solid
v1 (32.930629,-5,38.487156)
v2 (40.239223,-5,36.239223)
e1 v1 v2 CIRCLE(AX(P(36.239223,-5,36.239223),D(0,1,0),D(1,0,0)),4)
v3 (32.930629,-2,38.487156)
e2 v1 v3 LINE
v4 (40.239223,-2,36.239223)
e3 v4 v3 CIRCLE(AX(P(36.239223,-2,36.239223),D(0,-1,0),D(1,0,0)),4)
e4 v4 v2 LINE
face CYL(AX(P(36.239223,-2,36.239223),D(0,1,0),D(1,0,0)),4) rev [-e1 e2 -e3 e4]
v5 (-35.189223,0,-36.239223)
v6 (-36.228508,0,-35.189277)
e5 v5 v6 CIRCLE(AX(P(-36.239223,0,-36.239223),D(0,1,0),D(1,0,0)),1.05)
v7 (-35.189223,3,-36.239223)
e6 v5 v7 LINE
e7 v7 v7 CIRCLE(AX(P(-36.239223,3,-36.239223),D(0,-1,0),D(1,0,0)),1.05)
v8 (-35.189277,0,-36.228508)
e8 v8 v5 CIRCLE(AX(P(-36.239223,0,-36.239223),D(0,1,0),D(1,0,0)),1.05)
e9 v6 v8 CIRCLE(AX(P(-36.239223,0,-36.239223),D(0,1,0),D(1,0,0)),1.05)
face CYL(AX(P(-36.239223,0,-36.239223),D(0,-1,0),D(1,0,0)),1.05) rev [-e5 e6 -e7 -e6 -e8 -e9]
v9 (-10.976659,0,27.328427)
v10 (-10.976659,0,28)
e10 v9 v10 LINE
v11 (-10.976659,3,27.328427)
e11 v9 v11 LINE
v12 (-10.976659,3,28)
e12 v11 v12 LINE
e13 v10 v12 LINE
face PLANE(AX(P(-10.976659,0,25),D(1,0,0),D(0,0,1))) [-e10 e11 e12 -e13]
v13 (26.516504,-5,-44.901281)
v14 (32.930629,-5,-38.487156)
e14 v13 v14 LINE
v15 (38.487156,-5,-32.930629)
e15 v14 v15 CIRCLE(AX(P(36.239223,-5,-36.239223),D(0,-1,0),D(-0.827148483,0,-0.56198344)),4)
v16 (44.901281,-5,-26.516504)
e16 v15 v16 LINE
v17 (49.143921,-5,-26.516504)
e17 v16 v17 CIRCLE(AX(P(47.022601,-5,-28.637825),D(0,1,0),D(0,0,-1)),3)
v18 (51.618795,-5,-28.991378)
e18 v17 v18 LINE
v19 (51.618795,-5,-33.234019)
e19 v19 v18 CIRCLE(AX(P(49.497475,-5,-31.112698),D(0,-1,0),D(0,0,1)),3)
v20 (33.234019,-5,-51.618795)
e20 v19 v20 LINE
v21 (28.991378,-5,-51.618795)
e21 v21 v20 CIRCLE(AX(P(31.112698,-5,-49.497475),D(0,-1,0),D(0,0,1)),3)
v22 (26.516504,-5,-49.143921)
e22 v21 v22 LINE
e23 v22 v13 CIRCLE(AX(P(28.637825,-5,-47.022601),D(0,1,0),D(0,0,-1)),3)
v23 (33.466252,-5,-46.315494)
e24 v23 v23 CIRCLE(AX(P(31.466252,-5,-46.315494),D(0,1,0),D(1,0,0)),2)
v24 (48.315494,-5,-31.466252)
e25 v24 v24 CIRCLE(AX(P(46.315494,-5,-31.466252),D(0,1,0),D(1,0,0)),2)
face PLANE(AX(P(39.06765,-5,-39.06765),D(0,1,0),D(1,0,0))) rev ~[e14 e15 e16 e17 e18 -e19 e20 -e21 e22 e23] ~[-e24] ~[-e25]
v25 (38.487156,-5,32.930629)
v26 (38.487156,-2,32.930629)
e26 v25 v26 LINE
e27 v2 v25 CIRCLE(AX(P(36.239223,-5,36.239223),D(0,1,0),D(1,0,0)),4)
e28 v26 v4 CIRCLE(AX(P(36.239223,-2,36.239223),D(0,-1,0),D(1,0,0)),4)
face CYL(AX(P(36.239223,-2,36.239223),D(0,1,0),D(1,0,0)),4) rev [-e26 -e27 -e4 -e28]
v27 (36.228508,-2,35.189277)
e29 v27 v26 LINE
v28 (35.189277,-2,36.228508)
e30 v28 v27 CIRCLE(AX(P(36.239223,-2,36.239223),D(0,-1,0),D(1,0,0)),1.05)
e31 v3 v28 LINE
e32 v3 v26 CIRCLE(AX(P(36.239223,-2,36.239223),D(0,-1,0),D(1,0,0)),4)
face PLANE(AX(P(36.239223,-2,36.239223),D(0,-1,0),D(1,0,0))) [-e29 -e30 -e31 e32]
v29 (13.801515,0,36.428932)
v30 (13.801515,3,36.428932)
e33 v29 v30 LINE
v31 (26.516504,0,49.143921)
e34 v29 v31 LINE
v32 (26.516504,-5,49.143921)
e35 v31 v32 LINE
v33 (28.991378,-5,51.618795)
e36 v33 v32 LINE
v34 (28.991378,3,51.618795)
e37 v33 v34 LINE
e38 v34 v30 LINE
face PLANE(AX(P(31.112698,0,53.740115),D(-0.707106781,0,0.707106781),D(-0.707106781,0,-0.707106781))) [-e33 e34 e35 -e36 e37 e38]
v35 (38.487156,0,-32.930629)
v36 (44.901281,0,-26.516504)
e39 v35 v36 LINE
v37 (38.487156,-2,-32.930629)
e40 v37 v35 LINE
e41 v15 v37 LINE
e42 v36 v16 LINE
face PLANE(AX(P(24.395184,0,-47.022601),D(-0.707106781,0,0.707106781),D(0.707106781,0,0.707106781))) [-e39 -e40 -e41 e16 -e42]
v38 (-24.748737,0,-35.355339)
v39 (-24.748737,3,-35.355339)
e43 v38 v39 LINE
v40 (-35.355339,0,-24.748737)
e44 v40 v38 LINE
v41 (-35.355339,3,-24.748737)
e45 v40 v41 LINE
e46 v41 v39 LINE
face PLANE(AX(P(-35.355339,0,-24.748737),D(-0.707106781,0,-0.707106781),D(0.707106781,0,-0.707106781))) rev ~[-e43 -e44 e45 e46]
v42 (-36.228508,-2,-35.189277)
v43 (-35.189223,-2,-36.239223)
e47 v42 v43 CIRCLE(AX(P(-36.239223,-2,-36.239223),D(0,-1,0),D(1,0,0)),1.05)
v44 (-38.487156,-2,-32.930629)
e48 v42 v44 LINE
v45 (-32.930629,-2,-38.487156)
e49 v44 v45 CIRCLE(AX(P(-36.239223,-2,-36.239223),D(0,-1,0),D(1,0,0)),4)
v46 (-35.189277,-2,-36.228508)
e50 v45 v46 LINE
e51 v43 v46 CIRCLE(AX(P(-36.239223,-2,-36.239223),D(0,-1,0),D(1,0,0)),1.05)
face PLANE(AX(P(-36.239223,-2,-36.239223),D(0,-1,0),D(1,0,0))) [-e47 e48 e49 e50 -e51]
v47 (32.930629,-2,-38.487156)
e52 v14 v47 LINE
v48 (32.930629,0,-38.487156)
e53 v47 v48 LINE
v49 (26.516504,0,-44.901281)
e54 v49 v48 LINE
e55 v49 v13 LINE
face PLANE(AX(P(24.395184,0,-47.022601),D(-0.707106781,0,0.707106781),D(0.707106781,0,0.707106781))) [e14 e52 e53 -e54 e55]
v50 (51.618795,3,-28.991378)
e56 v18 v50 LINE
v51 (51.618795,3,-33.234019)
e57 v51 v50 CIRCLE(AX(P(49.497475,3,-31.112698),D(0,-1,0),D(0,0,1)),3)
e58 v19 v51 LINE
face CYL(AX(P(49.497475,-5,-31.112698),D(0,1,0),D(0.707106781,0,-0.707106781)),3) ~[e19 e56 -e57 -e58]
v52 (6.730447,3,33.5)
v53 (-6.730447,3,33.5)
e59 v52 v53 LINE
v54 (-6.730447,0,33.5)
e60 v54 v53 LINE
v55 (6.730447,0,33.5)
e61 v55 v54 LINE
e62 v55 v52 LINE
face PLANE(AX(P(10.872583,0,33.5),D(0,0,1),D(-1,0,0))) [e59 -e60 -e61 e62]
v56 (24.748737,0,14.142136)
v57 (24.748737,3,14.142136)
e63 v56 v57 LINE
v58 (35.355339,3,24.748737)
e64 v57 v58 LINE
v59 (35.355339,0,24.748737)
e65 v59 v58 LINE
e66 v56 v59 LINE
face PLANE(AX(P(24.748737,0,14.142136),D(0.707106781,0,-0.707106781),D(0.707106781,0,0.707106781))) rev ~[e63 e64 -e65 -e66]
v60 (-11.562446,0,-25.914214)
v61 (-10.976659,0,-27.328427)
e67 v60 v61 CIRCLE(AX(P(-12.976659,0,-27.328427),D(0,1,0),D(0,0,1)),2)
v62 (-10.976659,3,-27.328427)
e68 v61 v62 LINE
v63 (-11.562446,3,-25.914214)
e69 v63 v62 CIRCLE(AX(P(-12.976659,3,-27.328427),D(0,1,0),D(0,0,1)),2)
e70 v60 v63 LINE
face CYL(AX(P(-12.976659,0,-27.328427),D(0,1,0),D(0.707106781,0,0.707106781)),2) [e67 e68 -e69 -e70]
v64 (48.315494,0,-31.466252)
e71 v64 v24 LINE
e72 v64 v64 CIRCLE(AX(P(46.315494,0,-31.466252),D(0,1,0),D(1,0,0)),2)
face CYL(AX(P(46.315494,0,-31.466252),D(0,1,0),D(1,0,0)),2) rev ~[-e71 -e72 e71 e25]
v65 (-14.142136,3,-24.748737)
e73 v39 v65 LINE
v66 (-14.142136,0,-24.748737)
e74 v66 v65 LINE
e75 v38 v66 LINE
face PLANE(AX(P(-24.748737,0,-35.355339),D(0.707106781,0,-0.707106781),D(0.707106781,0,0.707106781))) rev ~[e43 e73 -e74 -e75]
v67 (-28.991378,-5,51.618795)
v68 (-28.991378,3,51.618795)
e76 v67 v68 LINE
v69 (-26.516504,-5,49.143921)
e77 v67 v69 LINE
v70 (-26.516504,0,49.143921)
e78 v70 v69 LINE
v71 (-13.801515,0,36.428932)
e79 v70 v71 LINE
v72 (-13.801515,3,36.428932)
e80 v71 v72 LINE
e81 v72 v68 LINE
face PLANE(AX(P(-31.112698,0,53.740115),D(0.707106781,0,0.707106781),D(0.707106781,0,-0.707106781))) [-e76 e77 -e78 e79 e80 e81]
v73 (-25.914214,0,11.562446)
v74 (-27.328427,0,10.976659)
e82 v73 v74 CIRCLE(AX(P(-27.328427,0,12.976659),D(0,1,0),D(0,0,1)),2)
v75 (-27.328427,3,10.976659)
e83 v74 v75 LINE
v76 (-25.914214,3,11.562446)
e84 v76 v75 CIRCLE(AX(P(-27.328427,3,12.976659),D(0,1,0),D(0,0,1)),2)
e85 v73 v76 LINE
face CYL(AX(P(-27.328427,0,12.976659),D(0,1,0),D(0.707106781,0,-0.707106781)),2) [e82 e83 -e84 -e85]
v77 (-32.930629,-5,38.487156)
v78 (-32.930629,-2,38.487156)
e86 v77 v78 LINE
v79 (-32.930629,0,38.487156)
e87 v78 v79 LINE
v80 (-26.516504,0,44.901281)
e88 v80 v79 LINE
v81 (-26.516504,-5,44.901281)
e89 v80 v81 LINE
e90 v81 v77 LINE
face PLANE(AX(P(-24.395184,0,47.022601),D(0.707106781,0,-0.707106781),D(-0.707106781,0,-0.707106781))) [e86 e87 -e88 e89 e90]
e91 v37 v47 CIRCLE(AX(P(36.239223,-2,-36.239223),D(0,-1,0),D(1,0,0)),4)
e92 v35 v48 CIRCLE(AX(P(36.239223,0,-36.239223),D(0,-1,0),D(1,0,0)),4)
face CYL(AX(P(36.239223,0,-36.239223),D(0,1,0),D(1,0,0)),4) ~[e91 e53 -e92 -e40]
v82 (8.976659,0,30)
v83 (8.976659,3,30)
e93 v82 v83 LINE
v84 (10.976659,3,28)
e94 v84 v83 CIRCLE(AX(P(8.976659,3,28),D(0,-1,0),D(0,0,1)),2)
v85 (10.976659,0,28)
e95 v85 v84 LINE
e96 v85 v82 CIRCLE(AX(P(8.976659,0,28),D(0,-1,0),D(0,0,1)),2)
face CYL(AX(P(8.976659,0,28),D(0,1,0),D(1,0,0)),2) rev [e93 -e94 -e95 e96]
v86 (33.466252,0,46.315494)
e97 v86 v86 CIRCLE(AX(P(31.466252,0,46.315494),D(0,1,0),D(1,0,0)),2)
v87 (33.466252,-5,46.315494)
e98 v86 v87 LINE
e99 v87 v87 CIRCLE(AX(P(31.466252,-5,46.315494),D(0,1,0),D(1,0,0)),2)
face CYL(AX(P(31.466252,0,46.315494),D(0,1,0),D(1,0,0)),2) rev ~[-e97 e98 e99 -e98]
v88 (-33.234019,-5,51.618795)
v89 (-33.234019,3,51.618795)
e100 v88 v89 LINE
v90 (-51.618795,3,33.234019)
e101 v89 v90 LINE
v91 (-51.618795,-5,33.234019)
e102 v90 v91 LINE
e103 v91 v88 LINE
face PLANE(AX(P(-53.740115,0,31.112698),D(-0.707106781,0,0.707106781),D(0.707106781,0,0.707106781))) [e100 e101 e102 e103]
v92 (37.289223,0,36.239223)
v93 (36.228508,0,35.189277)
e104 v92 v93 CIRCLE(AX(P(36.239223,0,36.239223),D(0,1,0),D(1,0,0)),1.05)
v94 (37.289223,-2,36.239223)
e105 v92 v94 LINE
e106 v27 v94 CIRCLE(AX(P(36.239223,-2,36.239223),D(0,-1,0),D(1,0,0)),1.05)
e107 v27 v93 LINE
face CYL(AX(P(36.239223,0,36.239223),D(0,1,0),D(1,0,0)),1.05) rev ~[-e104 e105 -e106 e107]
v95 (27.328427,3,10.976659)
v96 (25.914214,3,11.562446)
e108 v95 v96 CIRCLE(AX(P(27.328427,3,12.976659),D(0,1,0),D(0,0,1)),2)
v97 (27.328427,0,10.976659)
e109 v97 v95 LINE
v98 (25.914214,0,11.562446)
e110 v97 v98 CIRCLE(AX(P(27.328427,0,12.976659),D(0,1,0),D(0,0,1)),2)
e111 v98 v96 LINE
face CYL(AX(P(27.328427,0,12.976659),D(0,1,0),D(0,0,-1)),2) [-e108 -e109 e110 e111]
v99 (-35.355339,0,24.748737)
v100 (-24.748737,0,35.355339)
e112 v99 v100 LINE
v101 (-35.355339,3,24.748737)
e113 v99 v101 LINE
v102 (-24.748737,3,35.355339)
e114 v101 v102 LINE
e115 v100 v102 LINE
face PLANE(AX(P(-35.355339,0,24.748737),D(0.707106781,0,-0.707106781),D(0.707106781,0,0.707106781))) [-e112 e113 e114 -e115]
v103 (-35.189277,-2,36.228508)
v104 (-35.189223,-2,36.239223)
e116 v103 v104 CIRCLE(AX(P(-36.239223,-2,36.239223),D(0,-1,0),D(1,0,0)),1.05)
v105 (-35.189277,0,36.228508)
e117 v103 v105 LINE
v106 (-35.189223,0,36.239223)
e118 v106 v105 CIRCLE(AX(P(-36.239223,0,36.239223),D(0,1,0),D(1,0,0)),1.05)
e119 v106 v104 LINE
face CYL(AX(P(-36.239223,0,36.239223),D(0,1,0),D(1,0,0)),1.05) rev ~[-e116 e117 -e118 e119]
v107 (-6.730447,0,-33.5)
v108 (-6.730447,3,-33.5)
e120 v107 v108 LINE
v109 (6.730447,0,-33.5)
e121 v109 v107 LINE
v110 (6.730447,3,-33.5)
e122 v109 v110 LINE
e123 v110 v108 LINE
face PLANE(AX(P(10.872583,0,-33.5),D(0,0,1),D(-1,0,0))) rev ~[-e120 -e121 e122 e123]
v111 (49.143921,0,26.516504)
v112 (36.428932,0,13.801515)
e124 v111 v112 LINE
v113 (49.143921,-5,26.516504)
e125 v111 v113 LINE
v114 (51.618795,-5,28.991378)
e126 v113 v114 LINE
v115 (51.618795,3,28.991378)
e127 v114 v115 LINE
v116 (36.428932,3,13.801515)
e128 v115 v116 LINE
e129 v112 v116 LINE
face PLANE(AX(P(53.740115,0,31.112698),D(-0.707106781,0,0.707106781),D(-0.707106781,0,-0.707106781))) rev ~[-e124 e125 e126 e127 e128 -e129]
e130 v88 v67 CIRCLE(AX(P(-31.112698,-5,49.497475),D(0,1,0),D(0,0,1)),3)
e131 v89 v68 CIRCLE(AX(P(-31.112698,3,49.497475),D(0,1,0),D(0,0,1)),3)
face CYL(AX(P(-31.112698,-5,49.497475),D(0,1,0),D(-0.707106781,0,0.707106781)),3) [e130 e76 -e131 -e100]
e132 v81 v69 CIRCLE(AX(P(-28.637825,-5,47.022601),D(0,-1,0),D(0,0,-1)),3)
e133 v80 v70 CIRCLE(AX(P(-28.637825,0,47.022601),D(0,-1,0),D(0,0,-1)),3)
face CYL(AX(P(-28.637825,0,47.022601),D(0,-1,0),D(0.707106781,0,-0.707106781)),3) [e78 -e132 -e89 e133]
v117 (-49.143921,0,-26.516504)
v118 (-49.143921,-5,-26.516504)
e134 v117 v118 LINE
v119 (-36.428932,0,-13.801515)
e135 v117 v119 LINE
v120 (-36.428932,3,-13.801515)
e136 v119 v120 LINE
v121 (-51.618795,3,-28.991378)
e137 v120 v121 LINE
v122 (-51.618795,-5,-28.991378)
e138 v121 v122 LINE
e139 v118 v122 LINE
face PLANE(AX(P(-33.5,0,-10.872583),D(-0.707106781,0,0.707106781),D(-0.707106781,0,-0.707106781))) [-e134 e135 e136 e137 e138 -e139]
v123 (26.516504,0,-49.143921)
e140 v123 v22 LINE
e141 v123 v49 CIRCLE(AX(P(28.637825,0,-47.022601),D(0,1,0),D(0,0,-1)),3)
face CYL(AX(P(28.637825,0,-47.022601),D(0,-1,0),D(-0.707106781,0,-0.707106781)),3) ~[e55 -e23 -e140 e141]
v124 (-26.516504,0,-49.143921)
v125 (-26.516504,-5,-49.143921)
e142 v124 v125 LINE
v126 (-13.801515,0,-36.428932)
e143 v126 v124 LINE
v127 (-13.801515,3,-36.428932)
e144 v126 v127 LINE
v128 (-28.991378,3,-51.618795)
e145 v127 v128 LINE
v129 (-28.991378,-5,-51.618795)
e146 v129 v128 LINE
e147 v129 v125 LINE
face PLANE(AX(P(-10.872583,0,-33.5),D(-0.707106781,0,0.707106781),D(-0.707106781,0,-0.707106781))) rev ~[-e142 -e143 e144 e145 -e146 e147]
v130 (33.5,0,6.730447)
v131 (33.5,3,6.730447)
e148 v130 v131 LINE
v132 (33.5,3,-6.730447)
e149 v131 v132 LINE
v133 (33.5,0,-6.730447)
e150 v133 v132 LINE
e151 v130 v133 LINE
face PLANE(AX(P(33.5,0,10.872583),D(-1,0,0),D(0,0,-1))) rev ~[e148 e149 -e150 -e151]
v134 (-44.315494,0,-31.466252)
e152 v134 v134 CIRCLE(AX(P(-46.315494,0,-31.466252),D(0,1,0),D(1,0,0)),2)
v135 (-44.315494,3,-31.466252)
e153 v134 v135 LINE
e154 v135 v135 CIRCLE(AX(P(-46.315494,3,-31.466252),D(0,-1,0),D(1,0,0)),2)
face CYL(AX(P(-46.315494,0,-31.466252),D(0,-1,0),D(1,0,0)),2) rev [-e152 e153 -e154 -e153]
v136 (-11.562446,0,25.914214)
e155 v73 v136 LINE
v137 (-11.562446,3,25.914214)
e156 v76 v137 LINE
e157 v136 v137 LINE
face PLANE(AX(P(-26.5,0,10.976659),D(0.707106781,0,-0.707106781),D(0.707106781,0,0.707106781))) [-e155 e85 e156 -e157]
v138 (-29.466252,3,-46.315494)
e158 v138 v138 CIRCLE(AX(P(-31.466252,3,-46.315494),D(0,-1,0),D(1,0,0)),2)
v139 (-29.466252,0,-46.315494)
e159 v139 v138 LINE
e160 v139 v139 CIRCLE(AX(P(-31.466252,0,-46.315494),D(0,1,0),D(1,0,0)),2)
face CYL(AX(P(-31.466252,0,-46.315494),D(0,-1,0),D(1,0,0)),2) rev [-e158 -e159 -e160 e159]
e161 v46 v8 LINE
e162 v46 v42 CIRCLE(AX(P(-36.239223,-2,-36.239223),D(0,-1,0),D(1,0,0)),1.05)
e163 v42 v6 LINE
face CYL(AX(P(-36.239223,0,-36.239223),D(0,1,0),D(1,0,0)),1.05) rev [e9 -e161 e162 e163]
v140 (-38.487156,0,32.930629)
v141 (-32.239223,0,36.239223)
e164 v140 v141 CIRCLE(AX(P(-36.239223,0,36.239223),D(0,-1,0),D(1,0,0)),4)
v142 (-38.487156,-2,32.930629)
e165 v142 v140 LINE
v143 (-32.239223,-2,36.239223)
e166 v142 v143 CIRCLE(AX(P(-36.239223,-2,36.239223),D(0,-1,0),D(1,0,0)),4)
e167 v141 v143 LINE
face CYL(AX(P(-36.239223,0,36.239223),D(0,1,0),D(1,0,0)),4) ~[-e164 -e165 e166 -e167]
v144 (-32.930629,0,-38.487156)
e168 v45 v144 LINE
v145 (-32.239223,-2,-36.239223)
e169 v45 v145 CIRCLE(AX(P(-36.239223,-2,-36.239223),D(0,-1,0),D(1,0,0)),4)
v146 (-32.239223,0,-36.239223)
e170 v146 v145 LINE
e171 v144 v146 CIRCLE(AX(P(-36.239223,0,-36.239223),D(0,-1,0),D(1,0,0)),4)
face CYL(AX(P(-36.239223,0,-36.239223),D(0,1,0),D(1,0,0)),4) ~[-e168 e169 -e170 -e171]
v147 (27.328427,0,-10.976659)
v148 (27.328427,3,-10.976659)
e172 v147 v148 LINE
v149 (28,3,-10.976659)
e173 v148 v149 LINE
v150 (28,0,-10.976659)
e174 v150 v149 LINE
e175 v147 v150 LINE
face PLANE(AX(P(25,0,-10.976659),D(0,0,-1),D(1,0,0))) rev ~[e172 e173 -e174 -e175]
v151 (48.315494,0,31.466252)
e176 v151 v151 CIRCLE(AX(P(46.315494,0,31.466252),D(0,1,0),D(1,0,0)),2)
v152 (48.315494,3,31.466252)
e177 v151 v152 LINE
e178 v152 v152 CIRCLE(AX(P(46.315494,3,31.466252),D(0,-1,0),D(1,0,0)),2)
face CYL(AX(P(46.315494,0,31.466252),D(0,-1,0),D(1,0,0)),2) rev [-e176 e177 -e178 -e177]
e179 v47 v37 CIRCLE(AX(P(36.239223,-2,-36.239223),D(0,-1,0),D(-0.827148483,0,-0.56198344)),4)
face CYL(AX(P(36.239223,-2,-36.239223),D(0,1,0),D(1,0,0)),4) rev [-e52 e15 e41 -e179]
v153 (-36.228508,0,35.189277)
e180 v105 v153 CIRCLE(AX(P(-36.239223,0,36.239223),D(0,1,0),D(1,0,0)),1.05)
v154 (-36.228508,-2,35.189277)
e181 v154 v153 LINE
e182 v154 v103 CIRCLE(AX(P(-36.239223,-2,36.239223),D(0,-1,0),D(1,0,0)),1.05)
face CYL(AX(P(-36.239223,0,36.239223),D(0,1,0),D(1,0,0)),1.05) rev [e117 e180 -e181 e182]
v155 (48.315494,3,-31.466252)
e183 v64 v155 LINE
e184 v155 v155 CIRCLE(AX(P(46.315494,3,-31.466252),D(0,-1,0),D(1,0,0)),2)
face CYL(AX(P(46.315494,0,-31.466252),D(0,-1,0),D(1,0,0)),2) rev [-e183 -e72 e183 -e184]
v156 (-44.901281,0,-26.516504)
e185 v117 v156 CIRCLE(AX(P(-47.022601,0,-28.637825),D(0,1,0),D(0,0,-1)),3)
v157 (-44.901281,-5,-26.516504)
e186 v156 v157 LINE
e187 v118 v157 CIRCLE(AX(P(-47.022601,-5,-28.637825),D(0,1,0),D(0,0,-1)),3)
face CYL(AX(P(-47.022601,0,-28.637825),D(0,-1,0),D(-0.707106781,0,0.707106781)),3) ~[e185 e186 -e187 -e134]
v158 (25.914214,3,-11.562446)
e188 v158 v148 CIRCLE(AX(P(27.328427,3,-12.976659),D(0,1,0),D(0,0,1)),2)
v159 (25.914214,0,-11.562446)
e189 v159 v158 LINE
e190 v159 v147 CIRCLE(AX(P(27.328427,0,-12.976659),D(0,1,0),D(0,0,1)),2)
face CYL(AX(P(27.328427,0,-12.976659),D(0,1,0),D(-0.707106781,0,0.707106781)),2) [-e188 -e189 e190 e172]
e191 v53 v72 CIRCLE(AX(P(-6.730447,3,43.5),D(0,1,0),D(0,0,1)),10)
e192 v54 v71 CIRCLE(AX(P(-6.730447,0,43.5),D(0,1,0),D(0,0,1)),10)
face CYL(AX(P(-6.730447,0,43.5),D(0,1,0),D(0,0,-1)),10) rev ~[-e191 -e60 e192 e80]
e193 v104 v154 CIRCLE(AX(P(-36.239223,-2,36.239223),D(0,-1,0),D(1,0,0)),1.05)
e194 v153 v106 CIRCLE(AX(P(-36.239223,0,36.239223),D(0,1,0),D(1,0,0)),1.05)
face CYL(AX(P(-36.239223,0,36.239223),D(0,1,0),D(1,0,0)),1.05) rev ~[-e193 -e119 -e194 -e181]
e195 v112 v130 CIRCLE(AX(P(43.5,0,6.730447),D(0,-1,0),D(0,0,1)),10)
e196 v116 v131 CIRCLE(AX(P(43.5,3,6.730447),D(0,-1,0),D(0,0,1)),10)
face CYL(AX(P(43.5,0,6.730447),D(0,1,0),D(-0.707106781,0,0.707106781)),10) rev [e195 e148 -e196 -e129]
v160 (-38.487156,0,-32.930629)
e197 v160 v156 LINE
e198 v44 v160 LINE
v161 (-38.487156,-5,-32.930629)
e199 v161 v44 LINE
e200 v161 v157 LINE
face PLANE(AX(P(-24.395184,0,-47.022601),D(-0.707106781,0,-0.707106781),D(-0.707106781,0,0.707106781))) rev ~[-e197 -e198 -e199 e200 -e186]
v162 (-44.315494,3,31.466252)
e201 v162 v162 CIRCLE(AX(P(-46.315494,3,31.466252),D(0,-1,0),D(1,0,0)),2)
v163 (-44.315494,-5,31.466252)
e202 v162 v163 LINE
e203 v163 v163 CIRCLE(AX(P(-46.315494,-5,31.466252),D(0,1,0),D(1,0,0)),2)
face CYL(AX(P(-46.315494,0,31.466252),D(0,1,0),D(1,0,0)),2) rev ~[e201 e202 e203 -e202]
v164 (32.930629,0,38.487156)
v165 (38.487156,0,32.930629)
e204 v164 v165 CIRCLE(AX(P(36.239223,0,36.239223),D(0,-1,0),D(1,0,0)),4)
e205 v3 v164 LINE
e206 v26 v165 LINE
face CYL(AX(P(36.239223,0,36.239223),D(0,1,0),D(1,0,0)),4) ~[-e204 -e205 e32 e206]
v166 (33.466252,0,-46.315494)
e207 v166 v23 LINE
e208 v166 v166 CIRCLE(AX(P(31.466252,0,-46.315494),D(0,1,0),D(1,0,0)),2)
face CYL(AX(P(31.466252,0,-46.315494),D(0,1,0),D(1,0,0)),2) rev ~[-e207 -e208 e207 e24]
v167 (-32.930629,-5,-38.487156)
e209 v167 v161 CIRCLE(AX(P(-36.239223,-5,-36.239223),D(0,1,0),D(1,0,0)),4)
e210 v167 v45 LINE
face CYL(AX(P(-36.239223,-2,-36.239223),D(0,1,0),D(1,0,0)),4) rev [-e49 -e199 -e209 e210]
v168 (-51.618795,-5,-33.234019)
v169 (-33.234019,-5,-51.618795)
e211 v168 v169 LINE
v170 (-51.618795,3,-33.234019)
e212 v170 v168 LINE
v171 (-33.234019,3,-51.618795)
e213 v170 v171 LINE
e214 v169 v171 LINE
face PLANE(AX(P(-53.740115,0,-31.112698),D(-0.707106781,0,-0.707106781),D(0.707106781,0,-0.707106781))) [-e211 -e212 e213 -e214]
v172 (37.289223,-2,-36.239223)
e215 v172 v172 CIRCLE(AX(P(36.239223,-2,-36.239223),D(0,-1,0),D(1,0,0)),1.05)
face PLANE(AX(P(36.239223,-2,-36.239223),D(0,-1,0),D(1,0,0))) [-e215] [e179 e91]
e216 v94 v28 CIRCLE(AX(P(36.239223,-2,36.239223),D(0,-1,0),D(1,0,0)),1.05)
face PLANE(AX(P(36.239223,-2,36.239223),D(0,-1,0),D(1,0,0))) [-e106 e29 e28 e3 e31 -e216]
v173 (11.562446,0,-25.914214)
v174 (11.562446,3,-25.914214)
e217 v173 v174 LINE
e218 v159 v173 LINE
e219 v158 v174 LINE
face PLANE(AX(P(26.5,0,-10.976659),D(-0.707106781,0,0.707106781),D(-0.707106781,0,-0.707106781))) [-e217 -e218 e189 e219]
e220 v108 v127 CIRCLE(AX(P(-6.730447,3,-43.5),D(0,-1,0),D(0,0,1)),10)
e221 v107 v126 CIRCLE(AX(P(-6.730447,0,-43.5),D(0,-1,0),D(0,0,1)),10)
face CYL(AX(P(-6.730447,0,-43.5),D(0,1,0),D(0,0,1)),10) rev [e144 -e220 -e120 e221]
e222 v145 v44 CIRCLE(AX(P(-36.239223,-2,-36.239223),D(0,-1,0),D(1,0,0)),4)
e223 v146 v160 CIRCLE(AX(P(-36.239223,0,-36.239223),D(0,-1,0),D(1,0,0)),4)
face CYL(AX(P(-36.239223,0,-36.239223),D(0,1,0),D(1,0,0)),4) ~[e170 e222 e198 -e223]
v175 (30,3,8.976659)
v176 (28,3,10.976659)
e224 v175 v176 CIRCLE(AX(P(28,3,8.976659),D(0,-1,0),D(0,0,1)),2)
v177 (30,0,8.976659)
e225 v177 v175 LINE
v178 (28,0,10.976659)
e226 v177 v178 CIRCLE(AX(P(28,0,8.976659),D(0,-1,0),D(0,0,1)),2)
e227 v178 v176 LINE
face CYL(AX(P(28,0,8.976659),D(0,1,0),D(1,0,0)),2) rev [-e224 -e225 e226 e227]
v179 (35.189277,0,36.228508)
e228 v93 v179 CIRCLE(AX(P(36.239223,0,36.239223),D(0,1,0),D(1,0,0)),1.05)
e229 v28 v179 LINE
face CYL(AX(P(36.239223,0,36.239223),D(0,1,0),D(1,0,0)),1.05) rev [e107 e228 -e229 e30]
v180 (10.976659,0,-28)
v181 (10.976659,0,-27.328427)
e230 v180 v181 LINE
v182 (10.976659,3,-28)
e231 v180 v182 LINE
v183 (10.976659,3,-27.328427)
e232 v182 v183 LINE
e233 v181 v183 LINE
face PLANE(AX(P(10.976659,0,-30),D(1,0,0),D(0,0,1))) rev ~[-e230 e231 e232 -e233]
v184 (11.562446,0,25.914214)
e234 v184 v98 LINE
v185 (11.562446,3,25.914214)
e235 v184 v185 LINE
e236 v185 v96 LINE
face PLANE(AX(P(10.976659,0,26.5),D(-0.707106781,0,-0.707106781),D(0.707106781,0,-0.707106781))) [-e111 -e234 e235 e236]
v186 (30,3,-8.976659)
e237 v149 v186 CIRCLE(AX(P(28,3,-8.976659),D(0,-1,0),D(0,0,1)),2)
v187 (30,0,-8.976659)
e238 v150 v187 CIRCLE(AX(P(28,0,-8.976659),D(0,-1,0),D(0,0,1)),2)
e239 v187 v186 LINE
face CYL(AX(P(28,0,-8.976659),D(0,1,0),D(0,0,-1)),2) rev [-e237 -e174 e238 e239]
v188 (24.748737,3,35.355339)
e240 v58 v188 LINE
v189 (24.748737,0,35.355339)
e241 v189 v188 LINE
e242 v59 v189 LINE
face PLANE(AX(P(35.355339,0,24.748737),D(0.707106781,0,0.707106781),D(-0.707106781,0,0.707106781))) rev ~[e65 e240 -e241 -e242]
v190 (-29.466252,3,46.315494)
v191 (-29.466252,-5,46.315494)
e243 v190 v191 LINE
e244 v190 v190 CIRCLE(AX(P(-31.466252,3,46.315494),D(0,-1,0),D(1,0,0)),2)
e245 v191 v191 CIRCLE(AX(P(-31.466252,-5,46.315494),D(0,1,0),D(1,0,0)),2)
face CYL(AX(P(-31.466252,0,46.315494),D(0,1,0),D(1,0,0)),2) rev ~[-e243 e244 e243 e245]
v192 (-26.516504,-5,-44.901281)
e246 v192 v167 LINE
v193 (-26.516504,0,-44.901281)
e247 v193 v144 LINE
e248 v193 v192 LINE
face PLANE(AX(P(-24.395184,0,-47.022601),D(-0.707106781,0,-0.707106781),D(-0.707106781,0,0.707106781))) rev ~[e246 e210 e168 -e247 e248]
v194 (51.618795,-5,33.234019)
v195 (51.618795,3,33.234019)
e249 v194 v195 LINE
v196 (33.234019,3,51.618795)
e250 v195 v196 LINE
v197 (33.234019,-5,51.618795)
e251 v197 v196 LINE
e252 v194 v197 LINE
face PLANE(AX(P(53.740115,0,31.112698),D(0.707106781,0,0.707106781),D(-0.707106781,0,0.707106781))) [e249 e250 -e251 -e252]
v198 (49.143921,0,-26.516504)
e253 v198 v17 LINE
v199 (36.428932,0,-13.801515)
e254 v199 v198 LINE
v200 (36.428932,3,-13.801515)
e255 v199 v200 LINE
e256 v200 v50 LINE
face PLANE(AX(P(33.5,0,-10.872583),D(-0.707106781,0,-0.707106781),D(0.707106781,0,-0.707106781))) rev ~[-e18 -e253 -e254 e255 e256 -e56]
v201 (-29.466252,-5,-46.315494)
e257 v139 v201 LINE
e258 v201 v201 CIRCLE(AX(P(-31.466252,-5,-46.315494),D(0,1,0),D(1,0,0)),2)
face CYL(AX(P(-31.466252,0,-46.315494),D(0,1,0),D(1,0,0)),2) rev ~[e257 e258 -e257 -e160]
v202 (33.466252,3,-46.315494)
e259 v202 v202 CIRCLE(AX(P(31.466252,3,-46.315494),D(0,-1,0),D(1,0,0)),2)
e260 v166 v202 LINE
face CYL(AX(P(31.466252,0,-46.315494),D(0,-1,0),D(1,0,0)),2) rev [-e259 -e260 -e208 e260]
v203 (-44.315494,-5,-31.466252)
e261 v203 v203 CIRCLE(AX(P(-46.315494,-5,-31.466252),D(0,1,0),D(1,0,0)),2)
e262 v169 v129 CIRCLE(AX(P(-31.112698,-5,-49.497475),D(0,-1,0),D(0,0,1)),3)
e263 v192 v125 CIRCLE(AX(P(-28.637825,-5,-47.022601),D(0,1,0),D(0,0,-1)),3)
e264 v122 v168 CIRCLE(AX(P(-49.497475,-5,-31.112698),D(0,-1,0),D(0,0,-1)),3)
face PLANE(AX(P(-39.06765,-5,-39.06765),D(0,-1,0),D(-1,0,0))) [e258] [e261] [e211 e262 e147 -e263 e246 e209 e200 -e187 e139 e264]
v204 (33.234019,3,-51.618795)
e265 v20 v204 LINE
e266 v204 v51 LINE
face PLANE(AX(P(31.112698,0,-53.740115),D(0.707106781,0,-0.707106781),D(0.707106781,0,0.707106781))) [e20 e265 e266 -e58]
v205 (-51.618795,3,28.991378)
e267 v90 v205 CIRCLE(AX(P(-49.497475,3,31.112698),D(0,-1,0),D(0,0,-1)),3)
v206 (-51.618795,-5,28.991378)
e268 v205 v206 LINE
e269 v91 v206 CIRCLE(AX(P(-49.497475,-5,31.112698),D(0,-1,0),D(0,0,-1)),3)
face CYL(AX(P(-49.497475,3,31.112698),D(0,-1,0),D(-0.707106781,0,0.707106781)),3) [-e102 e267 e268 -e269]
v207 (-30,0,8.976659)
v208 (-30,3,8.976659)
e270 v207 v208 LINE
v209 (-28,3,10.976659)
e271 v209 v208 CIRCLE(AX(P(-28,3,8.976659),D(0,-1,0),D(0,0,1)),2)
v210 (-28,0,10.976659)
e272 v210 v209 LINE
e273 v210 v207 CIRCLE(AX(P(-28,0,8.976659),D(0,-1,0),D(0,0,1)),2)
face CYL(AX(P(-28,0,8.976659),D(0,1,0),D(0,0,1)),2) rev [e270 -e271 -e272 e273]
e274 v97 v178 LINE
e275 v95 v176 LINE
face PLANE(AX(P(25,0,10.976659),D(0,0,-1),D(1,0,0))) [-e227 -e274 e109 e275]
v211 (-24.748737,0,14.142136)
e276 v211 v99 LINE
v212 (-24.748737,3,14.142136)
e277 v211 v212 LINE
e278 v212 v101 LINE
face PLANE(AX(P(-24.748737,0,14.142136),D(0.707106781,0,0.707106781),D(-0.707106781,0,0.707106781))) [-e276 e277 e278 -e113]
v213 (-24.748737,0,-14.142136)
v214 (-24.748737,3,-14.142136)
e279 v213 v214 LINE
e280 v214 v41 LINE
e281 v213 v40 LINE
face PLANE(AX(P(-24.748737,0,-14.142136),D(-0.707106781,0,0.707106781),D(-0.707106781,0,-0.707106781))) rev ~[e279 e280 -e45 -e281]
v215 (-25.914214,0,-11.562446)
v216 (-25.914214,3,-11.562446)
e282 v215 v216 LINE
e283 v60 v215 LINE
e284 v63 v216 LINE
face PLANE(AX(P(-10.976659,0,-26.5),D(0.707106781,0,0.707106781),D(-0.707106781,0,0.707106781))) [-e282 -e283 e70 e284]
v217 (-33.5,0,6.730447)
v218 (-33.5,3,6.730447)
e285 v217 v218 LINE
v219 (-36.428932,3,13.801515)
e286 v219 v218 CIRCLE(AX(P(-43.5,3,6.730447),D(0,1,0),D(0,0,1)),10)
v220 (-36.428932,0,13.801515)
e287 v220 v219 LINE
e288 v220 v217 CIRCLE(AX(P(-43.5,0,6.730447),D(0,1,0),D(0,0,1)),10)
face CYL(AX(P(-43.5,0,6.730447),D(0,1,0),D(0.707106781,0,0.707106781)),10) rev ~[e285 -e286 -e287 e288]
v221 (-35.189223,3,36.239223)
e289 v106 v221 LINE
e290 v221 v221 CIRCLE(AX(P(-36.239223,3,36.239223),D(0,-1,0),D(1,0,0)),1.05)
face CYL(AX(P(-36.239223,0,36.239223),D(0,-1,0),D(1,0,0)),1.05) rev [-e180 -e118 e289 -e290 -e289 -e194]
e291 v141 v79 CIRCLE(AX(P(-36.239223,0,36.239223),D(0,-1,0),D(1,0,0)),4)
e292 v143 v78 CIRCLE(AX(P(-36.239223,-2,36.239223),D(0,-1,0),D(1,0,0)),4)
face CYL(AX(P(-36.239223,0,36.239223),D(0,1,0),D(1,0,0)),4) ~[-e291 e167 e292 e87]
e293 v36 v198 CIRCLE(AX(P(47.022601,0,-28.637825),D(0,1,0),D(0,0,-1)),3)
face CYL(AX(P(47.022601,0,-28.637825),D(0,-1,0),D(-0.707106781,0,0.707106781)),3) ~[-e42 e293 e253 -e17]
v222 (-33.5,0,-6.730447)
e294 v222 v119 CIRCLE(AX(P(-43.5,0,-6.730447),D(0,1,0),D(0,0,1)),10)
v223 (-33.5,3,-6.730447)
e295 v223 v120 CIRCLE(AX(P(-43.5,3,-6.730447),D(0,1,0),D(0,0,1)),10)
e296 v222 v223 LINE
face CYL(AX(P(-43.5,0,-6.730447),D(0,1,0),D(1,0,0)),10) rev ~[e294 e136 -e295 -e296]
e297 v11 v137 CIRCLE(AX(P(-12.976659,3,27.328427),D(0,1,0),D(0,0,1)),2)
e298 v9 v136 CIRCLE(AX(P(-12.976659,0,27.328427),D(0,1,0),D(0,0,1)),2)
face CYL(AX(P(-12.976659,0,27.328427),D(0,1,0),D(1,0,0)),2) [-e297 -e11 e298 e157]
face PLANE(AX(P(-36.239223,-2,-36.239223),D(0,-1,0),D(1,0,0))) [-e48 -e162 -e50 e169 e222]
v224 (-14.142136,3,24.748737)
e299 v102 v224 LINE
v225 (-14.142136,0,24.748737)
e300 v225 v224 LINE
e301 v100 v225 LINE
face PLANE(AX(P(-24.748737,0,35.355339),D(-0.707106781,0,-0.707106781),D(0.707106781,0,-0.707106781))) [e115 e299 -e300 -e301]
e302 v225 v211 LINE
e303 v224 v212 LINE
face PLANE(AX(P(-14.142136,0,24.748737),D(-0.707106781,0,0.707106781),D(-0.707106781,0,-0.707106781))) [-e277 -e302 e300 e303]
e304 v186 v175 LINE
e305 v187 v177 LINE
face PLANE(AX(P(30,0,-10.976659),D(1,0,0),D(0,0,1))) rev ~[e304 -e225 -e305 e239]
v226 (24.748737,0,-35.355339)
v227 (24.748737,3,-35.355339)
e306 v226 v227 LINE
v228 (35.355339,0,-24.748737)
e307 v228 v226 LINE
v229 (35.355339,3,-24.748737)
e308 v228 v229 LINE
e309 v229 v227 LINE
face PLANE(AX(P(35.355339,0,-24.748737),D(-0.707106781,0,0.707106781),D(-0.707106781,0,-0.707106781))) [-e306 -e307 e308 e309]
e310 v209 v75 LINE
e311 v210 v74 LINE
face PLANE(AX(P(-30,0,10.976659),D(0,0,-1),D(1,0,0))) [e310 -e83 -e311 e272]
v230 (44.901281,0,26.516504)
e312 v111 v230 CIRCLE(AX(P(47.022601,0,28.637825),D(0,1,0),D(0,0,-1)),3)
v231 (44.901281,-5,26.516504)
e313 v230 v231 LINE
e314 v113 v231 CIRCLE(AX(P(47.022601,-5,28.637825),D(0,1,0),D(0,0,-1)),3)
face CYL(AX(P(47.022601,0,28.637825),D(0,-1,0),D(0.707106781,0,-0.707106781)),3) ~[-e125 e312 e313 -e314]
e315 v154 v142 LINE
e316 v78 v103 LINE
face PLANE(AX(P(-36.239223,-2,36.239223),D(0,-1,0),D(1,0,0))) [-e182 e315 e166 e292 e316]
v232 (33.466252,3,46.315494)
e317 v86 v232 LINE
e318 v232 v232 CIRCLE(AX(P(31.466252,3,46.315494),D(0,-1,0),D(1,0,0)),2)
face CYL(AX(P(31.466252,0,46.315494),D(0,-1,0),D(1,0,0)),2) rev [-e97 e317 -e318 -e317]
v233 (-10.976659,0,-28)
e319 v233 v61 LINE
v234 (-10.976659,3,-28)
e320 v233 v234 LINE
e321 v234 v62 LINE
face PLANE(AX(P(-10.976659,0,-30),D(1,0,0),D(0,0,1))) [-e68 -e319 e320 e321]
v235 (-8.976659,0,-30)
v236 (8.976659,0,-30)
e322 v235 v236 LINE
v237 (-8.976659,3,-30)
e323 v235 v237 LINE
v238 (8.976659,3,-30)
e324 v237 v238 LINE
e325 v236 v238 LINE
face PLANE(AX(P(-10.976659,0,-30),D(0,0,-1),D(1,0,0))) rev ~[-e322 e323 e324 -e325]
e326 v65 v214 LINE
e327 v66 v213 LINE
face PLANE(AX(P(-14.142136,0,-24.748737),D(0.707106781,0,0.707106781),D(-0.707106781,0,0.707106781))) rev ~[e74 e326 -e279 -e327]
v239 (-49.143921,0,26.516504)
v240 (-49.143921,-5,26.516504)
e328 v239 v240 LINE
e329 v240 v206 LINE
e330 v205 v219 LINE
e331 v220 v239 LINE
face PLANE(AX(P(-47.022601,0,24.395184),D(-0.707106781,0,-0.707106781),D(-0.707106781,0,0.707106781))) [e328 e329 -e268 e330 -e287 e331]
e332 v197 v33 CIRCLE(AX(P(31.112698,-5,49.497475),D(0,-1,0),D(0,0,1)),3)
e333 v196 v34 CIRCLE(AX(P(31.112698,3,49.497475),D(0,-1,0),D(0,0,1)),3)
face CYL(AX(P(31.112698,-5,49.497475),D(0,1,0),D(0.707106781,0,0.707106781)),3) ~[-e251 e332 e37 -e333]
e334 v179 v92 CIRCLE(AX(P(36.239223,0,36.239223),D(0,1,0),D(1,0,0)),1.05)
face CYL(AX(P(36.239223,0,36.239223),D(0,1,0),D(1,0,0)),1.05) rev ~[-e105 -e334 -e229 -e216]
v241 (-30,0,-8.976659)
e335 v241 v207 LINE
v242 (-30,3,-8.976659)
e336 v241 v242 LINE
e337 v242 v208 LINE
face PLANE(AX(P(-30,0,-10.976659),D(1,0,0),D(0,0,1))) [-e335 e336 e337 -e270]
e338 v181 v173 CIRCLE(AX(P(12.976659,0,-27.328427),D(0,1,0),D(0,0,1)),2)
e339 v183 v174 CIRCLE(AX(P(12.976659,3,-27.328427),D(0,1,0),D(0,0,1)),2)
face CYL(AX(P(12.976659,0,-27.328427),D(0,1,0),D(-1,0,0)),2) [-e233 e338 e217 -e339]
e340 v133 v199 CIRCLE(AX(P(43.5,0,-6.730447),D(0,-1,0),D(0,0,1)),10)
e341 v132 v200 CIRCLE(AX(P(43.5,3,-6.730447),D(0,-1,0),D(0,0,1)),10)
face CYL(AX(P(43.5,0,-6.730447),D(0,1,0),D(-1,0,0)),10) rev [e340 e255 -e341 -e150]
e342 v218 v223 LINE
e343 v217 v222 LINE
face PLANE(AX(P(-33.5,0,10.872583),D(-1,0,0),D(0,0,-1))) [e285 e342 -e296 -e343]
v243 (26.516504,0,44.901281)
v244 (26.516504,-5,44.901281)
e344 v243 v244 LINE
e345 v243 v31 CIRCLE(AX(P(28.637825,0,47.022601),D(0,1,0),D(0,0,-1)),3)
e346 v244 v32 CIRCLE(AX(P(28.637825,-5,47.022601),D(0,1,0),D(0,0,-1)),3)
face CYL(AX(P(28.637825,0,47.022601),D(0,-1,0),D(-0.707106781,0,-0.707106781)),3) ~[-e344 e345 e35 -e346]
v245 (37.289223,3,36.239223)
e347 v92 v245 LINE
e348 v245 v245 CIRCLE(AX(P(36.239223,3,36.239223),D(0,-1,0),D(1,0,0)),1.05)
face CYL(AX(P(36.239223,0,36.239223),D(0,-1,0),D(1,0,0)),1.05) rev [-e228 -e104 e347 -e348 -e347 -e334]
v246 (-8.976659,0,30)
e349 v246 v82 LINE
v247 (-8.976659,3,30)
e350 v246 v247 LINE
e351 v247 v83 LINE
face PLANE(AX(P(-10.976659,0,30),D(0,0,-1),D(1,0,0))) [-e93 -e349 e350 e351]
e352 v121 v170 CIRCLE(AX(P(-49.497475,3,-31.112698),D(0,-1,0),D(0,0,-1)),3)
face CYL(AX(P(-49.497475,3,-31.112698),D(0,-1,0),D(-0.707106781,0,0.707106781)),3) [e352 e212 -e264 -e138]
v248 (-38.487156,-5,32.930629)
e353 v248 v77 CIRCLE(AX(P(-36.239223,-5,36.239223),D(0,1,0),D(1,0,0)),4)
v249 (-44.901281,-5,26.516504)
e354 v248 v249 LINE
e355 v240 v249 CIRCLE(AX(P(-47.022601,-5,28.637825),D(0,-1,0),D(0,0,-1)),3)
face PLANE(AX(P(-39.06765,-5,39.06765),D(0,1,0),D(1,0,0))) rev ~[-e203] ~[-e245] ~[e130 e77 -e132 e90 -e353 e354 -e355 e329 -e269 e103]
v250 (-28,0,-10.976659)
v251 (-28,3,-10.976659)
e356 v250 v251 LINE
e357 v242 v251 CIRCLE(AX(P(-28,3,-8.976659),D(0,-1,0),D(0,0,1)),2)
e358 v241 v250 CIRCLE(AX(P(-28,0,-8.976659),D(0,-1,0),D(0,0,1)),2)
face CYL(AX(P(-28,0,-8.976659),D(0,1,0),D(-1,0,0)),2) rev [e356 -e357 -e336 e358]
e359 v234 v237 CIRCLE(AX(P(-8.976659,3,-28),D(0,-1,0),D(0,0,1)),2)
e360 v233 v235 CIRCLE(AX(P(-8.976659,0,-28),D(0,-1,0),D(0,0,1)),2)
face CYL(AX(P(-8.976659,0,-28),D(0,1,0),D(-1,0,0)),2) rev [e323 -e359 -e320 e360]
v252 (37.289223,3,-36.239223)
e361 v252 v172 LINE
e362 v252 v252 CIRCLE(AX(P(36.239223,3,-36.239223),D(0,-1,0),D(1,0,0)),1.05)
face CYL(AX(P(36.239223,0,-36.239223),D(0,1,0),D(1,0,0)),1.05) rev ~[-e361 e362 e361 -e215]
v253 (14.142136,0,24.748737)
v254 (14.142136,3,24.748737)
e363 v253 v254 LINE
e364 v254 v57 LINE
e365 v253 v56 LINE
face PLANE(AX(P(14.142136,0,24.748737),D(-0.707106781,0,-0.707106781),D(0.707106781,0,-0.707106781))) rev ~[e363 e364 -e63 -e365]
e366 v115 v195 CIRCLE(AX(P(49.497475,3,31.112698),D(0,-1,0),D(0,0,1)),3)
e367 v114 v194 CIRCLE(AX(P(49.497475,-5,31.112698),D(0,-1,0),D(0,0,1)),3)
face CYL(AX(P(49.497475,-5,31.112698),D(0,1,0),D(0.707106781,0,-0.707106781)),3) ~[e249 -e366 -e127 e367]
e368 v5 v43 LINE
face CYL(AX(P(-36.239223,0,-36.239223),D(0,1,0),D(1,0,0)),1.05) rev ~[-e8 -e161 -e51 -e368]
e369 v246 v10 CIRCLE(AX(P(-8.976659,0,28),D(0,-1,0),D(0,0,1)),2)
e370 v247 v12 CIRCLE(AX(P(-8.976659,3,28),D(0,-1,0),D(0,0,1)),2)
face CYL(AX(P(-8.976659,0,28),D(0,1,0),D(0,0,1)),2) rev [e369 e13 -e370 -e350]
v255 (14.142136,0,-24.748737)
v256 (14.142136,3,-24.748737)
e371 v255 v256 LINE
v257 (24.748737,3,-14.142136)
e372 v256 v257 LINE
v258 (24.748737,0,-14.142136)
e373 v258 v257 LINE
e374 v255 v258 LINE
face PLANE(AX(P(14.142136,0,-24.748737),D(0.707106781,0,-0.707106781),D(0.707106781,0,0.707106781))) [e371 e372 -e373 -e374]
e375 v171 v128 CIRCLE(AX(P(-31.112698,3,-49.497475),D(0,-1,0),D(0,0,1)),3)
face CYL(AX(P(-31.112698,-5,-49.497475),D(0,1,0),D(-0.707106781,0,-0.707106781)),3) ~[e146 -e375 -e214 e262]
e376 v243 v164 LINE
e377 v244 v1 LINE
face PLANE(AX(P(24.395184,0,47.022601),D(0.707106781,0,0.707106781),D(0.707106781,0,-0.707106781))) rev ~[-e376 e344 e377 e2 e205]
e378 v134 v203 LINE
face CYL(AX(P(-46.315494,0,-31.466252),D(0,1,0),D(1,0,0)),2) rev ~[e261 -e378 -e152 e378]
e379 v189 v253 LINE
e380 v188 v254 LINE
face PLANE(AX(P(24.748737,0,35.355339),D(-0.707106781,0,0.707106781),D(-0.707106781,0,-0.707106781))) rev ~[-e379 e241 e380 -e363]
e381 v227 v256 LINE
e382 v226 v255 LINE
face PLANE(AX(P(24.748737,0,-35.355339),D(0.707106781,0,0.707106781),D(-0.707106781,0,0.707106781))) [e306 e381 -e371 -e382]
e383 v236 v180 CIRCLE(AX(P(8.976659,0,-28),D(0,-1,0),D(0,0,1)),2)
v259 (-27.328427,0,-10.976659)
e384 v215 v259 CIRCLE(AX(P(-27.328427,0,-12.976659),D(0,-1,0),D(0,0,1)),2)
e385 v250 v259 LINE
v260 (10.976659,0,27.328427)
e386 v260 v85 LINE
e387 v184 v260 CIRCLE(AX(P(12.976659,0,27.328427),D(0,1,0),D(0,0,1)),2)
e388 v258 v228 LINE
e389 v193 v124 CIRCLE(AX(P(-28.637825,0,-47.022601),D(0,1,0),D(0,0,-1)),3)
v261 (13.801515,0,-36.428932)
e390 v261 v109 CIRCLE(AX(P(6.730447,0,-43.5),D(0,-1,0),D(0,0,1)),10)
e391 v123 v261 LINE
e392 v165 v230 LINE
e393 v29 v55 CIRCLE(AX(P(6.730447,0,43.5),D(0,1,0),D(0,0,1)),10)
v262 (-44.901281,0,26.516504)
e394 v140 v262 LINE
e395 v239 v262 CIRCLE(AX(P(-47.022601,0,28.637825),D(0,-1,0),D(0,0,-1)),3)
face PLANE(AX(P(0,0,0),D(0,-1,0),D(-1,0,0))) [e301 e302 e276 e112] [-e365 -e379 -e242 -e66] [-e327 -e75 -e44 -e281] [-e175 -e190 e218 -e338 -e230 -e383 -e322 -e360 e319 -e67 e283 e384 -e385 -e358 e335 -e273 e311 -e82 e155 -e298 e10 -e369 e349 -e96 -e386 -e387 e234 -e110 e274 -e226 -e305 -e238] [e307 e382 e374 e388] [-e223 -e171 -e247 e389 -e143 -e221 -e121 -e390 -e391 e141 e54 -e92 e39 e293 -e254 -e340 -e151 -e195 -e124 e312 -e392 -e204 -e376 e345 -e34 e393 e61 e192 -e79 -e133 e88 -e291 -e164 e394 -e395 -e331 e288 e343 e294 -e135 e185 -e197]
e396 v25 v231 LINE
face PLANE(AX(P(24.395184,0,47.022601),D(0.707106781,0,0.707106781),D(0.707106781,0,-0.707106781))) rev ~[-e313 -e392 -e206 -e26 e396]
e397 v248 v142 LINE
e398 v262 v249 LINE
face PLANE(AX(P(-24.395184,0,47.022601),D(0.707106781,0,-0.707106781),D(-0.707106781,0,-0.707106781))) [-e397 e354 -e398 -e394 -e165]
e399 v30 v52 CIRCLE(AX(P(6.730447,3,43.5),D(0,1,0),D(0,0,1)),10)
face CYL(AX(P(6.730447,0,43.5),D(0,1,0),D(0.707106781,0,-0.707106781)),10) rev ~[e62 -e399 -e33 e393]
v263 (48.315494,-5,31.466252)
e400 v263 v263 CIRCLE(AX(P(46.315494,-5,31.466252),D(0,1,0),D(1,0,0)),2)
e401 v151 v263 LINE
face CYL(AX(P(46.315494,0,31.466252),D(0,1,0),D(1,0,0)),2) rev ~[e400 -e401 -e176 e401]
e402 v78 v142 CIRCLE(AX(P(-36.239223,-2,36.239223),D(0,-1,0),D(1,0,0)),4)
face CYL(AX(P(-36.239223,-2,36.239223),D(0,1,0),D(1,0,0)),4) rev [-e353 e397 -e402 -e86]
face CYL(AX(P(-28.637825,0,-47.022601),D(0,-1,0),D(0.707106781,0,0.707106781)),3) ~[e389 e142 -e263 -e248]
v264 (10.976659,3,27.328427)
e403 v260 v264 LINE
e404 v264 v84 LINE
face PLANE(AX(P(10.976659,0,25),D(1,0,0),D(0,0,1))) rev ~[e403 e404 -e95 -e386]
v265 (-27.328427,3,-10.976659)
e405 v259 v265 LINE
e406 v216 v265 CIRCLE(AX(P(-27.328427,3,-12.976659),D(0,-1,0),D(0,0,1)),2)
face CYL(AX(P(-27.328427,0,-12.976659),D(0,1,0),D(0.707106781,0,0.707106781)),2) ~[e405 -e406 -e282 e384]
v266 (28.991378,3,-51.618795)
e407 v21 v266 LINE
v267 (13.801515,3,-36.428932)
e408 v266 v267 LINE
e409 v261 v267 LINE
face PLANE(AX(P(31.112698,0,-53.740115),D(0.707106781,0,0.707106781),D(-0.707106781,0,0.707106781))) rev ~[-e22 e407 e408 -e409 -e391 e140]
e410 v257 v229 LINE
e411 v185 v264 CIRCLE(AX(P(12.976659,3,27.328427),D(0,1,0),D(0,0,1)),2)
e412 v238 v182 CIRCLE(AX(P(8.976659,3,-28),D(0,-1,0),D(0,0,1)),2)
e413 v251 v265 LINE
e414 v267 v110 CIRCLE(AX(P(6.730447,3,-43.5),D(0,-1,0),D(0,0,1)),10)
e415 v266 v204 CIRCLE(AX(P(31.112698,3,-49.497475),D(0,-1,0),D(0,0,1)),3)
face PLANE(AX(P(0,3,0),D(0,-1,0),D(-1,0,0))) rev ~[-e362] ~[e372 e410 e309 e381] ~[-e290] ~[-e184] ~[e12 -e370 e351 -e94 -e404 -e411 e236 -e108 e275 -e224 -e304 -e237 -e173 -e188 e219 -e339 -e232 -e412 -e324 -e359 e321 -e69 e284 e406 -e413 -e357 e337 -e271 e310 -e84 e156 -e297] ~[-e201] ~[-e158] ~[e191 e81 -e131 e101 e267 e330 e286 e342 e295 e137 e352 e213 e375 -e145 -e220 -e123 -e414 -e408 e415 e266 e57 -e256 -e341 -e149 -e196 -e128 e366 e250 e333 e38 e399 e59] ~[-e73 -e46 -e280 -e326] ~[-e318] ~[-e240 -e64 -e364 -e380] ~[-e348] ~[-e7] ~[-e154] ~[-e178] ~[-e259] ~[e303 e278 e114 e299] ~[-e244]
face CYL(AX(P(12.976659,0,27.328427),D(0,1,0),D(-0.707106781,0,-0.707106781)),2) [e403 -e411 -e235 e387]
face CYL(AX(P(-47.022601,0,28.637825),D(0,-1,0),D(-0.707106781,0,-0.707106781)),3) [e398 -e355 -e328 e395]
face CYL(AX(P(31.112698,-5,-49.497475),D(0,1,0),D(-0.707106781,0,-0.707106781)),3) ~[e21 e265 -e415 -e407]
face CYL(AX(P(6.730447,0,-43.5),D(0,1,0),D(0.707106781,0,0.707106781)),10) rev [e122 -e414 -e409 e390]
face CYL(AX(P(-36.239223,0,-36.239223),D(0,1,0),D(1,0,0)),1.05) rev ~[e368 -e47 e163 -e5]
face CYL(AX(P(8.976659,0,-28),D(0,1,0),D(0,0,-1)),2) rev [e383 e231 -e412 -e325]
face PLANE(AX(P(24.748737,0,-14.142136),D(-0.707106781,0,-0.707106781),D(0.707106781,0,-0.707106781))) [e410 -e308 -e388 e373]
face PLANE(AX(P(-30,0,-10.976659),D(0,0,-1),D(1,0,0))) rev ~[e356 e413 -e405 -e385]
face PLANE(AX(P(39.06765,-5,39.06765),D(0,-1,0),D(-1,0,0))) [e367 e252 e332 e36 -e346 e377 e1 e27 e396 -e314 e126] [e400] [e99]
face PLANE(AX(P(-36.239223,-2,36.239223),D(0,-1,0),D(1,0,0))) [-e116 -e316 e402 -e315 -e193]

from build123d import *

# Parameters (mm, degrees)
BOSS_EXTRUDE1_DEPTH     = 3
BOSS_EXTRUDE2_DEPTH     = 5
CUT_EXTRUDE1_DEPTH      = 3
SKETCH1_R               = 2
CUT_EXTRUDE2_DEPTH      = 4
CUT_EXTRUDE2_DEPTH_BACK = 6
CUT_EXTRUDE4_DEPTH      = 10
FILLET1_R               = 3
FILLET2_R               = 10
CUT_EXTRUDE5_DEPTH      = 10
SKETCH9_W               = 5
SKETCH9_H               = 21.953318806
SKETCH9_W_2             = 21.953318806
SKETCH9_H_2             = 5
CUT_EXTRUDE6_DEPTH      = 10
FILLET3_R               = 2
SKETCH10_R              = 1.05
CUT_EXTRUDE7_DEPTH      = 10
CUT_EXTRUDE7_DEPTH_BACK = 10
SKETCH11_R              = 4
SKETCH11_R_2            = 1.05
BOSS_EXTRUDE3_DEPTH     = 2
SKETCH13_R              = 4
CUT_EXTRUDE9_DEPTH      = 10


with BuildPart() as part:
    # Sketch3 → Boss-Extrude1 (new body)
    with BuildSketch(Plane(origin=(0, 0, 0), x_dir=(1, 0, 0), z_dir=(0, 1, 0))):
        Polygon((-53.74011537, 31.112698372), (-31.112698372, 53.74011537), (31.112698372, 53.74011537), (53.74011537, 31.112698372), (53.74011537, -31.112698372), (31.112698372, -53.74011537), (-31.112698372, -53.74011537), (-53.74011537, -31.112698372), align=None)
    extrude(amount=BOSS_EXTRUDE1_DEPTH)

    # Sketch4 → Boss-Extrude2 (add)
    with BuildSketch(Plane(origin=(0, 0, 0), x_dir=(-1, 0, 0), z_dir=(0, -1, 0))):
        Polygon((53.74011537, -31.112698372), (31.112698372, -53.74011537), (24.395183951, -47.022600949), (47.022600949, -24.395183951), align=None)
        Polygon((31.112698372, 53.74011537), (24.395183951, 47.022600949), (47.022600949, 24.395183951), (53.74011537, 31.112698372), align=None)
        Polygon((-31.112698372, 53.74011537), (-24.395183951, 47.022600949), (-47.022600949, 24.395183951), (-53.74011537, 31.112698372), align=None)
        Polygon((-47.022600949, -24.395183951), (-53.74011537, -31.112698372), (-31.112698372, -53.74011537), (-24.395183951, -47.022600949), align=None)
    extrude(amount=BOSS_EXTRUDE2_DEPTH)

    # Sketch2 → Cut-Extrude1 (cut)
    with BuildSketch(Plane(origin=(0, 0, 0), x_dir=(1, 0, 0), z_dir=(0, 1, 0))):
        Polygon((-35.355339059, 24.748737342), (-24.748737342, 35.355339059), (-14.142135624, 24.748737342), (-24.748737342, 14.142135624), align=None)
        Polygon((14.142135624, 24.748737342), (24.748737342, 14.142135624), (35.355339059, 24.748737342), (24.748737342, 35.355339059), align=None)
        Polygon((-14.142135624, -24.748737342), (-24.748737342, -14.142135624), (-35.355339059, -24.748737342), (-24.748737342, -35.355339059), align=None)
        Polygon((14.142135624, -24.748737342), (24.748737342, -14.142135624), (35.355339059, -24.748737342), (24.748737342, -35.355339059), align=None)
    extrude(amount=CUT_EXTRUDE1_DEPTH, mode=Mode.SUBTRACT)

    # Sketch1 → Cut-Extrude2 (cut, two sides)
    with BuildSketch(Plane(origin=(0, 0, 0), x_dir=(1, 0, 0), z_dir=(0, 1, 0))) as cut_extrude2_sk:
        with Locations((31.466251763, 46.315494168)):
            Circle(SKETCH1_R)
        with Locations((46.315494168, 31.466251763)):
            Circle(SKETCH1_R)
        with Locations((46.315494168, -31.466251763)):
            Circle(SKETCH1_R)
        with Locations((31.466251763, -46.315494168)):
            Circle(SKETCH1_R)
        with Locations((-31.466251763, -46.315494168)):
            Circle(SKETCH1_R)
        with Locations((-46.315494168, -31.466251763)):
            Circle(SKETCH1_R)
        with Locations((-46.315494168, 31.466251763)):
            Circle(SKETCH1_R)
        with Locations((-31.466251763, 46.315494168)):
            Circle(SKETCH1_R)
    extrude(amount=CUT_EXTRUDE2_DEPTH, mode=Mode.SUBTRACT)
    extrude(cut_extrude2_sk.sketch, amount=-CUT_EXTRUDE2_DEPTH_BACK, mode=Mode.SUBTRACT)

    # Sketch5 → Cut-Extrude4 (cut)
    with BuildSketch(Plane(origin=(0, 0, 0), x_dir=(1, 0, 0), z_dir=(0, 1, 0))):
        Polygon((-53.74011537, -31.112698372), (-33.5, -10.872583002), (-33.5, 10.872583002), (-53.74011537, 31.112698372), align=None)
        Polygon((53.74011537, -31.112698372), (33.5, -10.872583002), (33.5, 10.872583002), (53.74011537, 31.112698372), align=None)
        Polygon((-31.112698372, -53.74011537), (31.112698372, -53.74011537), (10.872583002, -33.5), (-10.872583002, -33.5), align=None)
        Polygon((-31.112698372, 53.74011537), (31.112698372, 53.74011537), (10.872583002, 33.5), (-10.872583002, 33.5), align=None)
    extrude(amount=CUT_EXTRUDE4_DEPTH, mode=Mode.SUBTRACT)

    # Fillet1
    fillet1_edges = [part.edges().sort_by_distance(p)[0] for p in [
        (-53.74011537, -1, -31.112698372),
        (-31.112698372, -1, -53.74011537),
        (31.112698372, -1, -53.74011537),
        (53.74011537, -1, -31.112698372),
        (53.74011537, -1, 31.112698372),
        (31.112698372, -1, 53.74011537),
        (-31.112698372, -1, 53.74011537),
        (-53.74011537, -1, 31.112698372),
        (-47.022600949, -2.5, 24.395183951),
        (-24.395183951, -2.5, 47.022600949),
        (-24.395183951, -2.5, -47.022600949),
        (-47.022600949, -2.5, -24.395183951),
        (47.022600949, -2.5, -24.395183951),
        (24.395183951, -2.5, -47.022600949),
        (24.395183951, -2.5, 47.022600949),
        (47.022600949, -2.5, 24.395183951),
    ]]
    fillet(fillet1_edges, radius=FILLET1_R)

    # Fillet2
    fillet2_edges = [part.edges().sort_by_distance(p)[0] for p in [
        (-33.5, 1.5, 10.872583002),
        (-33.5, 1.5, -10.872583002),
        (33.5, 1.5, -10.872583002),
        (33.5, 1.5, 10.872583002),
        (10.872583002, 1.5, 33.5),
        (-10.872583002, 1.5, 33.5),
        (-10.872583002, 1.5, -33.5),
        (10.872583002, 1.5, -33.5),
    ]]
    fillet(fillet2_edges, radius=FILLET2_R)

    # Sketch8 → Cut-Extrude5 (cut)
    with BuildSketch(Plane.XZ):
        Polygon((-26.5, 10.976659403), (-10.976659403, 26.5), (10.976659403, 26.5), (26.5, 10.976659403), (26.5, -10.976659403), (10.976659403, -26.5), (-10.976659403, -26.5), (-26.5, -10.976659403), align=None)
    extrude(amount=-CUT_EXTRUDE5_DEPTH, mode=Mode.SUBTRACT)

    # Sketch9 → Cut-Extrude6 (cut)
    with BuildSketch(Plane.XZ):
        with Locations((-27.5, 0)):
            Rectangle(SKETCH9_W, SKETCH9_H)
        with Locations((0, 27.5)):
            Rectangle(SKETCH9_W_2, SKETCH9_H_2)
        with Locations((27.5, 0)):
            Rectangle(SKETCH9_W, SKETCH9_H)
        with Locations((0, -27.5)):
            Rectangle(SKETCH9_W_2, SKETCH9_H_2)
    extrude(amount=-CUT_EXTRUDE6_DEPTH, mode=Mode.SUBTRACT)

    # Fillet3
    fillet3_edges = [part.edges().sort_by_distance(p)[0] for p in [
        (-26.5, 1.5, -10.976659403),
        (-26.5, 1.5, 10.976659403),
        (-10.976659403, 1.5, 26.5),
        (10.976659403, 1.5, 26.5),
        (26.5, 1.5, 10.976659403),
        (26.5, 1.5, -10.976659403),
        (10.976659403, 1.5, -26.5),
        (-10.976659403, 1.5, -26.5),
        (-30, 1.5, -10.976659403),
        (-30, 1.5, 10.976659403),
        (-10.976659403, 1.5, 30),
        (10.976659403, 1.5, 30),
        (30, 1.5, 10.976659403),
        (30, 1.5, -10.976659403),
        (10.976659403, 1.5, -30),
        (-10.976659403, 1.5, -30),
    ]]
    fillet(fillet3_edges, radius=FILLET3_R)

    # Sketch10 → Cut-Extrude7 (cut, two sides)
    with BuildSketch(Plane(origin=(0, 0, 0), x_dir=(1, 0, 0), z_dir=(0, 1, 0))) as cut_extrude7_sk:
        with Locations((36.239222536, 36.239222536)):
            Circle(SKETCH10_R)
        with Locations((-36.239222536, -36.239222536)):
            Circle(SKETCH10_R)
        with Locations((-36.239222536, 36.239222536)):
            Circle(SKETCH10_R)
        with Locations((36.239222536, -36.239222536)):
            Circle(SKETCH10_R)
    extrude(amount=CUT_EXTRUDE7_DEPTH, mode=Mode.SUBTRACT)
    extrude(cut_extrude7_sk.sketch, amount=-CUT_EXTRUDE7_DEPTH_BACK, mode=Mode.SUBTRACT)

    # Sketch11 → Boss-Extrude3 (add)
    with BuildSketch(Plane.XZ):
        with Locations((36.239222536, -36.239222536)):
            Circle(SKETCH11_R)
        with Locations((36.239222536, -36.239222536)):
            Circle(SKETCH11_R_2, mode=Mode.SUBTRACT)
        with Locations((-36.239222536, 36.239222536)):
            Circle(SKETCH11_R)
        with Locations((-36.239222536, 36.239222536)):
            Circle(SKETCH11_R_2, mode=Mode.SUBTRACT)
        with Locations((-36.239222536, -36.239222536)):
            Circle(SKETCH11_R)
        with Locations((-36.239222536, -36.239222536)):
            Circle(SKETCH11_R_2, mode=Mode.SUBTRACT)
        with Locations((36.239222536, 36.239222536)):
            Circle(SKETCH11_R)
        with Locations((36.239222536, 36.239222536)):
            Circle(SKETCH11_R_2, mode=Mode.SUBTRACT)
    extrude(amount=BOSS_EXTRUDE3_DEPTH)

    # Sketch13 → Cut-Extrude9 (cut)
    with BuildSketch(Plane.XZ.offset(2)):
        with Locations((-36.239222536, 36.239222536)):
            Circle(SKETCH13_R)
        with Locations((36.239222536, 36.239222536)):
            Circle(SKETCH13_R)
        with Locations((36.239222536, -36.239222536)):
            Circle(SKETCH13_R)
        with Locations((-36.239222536, -36.239222536)):
            Circle(SKETCH13_R)
    extrude(amount=CUT_EXTRUDE9_DEPTH, mode=Mode.SUBTRACT)


solid = part.part
